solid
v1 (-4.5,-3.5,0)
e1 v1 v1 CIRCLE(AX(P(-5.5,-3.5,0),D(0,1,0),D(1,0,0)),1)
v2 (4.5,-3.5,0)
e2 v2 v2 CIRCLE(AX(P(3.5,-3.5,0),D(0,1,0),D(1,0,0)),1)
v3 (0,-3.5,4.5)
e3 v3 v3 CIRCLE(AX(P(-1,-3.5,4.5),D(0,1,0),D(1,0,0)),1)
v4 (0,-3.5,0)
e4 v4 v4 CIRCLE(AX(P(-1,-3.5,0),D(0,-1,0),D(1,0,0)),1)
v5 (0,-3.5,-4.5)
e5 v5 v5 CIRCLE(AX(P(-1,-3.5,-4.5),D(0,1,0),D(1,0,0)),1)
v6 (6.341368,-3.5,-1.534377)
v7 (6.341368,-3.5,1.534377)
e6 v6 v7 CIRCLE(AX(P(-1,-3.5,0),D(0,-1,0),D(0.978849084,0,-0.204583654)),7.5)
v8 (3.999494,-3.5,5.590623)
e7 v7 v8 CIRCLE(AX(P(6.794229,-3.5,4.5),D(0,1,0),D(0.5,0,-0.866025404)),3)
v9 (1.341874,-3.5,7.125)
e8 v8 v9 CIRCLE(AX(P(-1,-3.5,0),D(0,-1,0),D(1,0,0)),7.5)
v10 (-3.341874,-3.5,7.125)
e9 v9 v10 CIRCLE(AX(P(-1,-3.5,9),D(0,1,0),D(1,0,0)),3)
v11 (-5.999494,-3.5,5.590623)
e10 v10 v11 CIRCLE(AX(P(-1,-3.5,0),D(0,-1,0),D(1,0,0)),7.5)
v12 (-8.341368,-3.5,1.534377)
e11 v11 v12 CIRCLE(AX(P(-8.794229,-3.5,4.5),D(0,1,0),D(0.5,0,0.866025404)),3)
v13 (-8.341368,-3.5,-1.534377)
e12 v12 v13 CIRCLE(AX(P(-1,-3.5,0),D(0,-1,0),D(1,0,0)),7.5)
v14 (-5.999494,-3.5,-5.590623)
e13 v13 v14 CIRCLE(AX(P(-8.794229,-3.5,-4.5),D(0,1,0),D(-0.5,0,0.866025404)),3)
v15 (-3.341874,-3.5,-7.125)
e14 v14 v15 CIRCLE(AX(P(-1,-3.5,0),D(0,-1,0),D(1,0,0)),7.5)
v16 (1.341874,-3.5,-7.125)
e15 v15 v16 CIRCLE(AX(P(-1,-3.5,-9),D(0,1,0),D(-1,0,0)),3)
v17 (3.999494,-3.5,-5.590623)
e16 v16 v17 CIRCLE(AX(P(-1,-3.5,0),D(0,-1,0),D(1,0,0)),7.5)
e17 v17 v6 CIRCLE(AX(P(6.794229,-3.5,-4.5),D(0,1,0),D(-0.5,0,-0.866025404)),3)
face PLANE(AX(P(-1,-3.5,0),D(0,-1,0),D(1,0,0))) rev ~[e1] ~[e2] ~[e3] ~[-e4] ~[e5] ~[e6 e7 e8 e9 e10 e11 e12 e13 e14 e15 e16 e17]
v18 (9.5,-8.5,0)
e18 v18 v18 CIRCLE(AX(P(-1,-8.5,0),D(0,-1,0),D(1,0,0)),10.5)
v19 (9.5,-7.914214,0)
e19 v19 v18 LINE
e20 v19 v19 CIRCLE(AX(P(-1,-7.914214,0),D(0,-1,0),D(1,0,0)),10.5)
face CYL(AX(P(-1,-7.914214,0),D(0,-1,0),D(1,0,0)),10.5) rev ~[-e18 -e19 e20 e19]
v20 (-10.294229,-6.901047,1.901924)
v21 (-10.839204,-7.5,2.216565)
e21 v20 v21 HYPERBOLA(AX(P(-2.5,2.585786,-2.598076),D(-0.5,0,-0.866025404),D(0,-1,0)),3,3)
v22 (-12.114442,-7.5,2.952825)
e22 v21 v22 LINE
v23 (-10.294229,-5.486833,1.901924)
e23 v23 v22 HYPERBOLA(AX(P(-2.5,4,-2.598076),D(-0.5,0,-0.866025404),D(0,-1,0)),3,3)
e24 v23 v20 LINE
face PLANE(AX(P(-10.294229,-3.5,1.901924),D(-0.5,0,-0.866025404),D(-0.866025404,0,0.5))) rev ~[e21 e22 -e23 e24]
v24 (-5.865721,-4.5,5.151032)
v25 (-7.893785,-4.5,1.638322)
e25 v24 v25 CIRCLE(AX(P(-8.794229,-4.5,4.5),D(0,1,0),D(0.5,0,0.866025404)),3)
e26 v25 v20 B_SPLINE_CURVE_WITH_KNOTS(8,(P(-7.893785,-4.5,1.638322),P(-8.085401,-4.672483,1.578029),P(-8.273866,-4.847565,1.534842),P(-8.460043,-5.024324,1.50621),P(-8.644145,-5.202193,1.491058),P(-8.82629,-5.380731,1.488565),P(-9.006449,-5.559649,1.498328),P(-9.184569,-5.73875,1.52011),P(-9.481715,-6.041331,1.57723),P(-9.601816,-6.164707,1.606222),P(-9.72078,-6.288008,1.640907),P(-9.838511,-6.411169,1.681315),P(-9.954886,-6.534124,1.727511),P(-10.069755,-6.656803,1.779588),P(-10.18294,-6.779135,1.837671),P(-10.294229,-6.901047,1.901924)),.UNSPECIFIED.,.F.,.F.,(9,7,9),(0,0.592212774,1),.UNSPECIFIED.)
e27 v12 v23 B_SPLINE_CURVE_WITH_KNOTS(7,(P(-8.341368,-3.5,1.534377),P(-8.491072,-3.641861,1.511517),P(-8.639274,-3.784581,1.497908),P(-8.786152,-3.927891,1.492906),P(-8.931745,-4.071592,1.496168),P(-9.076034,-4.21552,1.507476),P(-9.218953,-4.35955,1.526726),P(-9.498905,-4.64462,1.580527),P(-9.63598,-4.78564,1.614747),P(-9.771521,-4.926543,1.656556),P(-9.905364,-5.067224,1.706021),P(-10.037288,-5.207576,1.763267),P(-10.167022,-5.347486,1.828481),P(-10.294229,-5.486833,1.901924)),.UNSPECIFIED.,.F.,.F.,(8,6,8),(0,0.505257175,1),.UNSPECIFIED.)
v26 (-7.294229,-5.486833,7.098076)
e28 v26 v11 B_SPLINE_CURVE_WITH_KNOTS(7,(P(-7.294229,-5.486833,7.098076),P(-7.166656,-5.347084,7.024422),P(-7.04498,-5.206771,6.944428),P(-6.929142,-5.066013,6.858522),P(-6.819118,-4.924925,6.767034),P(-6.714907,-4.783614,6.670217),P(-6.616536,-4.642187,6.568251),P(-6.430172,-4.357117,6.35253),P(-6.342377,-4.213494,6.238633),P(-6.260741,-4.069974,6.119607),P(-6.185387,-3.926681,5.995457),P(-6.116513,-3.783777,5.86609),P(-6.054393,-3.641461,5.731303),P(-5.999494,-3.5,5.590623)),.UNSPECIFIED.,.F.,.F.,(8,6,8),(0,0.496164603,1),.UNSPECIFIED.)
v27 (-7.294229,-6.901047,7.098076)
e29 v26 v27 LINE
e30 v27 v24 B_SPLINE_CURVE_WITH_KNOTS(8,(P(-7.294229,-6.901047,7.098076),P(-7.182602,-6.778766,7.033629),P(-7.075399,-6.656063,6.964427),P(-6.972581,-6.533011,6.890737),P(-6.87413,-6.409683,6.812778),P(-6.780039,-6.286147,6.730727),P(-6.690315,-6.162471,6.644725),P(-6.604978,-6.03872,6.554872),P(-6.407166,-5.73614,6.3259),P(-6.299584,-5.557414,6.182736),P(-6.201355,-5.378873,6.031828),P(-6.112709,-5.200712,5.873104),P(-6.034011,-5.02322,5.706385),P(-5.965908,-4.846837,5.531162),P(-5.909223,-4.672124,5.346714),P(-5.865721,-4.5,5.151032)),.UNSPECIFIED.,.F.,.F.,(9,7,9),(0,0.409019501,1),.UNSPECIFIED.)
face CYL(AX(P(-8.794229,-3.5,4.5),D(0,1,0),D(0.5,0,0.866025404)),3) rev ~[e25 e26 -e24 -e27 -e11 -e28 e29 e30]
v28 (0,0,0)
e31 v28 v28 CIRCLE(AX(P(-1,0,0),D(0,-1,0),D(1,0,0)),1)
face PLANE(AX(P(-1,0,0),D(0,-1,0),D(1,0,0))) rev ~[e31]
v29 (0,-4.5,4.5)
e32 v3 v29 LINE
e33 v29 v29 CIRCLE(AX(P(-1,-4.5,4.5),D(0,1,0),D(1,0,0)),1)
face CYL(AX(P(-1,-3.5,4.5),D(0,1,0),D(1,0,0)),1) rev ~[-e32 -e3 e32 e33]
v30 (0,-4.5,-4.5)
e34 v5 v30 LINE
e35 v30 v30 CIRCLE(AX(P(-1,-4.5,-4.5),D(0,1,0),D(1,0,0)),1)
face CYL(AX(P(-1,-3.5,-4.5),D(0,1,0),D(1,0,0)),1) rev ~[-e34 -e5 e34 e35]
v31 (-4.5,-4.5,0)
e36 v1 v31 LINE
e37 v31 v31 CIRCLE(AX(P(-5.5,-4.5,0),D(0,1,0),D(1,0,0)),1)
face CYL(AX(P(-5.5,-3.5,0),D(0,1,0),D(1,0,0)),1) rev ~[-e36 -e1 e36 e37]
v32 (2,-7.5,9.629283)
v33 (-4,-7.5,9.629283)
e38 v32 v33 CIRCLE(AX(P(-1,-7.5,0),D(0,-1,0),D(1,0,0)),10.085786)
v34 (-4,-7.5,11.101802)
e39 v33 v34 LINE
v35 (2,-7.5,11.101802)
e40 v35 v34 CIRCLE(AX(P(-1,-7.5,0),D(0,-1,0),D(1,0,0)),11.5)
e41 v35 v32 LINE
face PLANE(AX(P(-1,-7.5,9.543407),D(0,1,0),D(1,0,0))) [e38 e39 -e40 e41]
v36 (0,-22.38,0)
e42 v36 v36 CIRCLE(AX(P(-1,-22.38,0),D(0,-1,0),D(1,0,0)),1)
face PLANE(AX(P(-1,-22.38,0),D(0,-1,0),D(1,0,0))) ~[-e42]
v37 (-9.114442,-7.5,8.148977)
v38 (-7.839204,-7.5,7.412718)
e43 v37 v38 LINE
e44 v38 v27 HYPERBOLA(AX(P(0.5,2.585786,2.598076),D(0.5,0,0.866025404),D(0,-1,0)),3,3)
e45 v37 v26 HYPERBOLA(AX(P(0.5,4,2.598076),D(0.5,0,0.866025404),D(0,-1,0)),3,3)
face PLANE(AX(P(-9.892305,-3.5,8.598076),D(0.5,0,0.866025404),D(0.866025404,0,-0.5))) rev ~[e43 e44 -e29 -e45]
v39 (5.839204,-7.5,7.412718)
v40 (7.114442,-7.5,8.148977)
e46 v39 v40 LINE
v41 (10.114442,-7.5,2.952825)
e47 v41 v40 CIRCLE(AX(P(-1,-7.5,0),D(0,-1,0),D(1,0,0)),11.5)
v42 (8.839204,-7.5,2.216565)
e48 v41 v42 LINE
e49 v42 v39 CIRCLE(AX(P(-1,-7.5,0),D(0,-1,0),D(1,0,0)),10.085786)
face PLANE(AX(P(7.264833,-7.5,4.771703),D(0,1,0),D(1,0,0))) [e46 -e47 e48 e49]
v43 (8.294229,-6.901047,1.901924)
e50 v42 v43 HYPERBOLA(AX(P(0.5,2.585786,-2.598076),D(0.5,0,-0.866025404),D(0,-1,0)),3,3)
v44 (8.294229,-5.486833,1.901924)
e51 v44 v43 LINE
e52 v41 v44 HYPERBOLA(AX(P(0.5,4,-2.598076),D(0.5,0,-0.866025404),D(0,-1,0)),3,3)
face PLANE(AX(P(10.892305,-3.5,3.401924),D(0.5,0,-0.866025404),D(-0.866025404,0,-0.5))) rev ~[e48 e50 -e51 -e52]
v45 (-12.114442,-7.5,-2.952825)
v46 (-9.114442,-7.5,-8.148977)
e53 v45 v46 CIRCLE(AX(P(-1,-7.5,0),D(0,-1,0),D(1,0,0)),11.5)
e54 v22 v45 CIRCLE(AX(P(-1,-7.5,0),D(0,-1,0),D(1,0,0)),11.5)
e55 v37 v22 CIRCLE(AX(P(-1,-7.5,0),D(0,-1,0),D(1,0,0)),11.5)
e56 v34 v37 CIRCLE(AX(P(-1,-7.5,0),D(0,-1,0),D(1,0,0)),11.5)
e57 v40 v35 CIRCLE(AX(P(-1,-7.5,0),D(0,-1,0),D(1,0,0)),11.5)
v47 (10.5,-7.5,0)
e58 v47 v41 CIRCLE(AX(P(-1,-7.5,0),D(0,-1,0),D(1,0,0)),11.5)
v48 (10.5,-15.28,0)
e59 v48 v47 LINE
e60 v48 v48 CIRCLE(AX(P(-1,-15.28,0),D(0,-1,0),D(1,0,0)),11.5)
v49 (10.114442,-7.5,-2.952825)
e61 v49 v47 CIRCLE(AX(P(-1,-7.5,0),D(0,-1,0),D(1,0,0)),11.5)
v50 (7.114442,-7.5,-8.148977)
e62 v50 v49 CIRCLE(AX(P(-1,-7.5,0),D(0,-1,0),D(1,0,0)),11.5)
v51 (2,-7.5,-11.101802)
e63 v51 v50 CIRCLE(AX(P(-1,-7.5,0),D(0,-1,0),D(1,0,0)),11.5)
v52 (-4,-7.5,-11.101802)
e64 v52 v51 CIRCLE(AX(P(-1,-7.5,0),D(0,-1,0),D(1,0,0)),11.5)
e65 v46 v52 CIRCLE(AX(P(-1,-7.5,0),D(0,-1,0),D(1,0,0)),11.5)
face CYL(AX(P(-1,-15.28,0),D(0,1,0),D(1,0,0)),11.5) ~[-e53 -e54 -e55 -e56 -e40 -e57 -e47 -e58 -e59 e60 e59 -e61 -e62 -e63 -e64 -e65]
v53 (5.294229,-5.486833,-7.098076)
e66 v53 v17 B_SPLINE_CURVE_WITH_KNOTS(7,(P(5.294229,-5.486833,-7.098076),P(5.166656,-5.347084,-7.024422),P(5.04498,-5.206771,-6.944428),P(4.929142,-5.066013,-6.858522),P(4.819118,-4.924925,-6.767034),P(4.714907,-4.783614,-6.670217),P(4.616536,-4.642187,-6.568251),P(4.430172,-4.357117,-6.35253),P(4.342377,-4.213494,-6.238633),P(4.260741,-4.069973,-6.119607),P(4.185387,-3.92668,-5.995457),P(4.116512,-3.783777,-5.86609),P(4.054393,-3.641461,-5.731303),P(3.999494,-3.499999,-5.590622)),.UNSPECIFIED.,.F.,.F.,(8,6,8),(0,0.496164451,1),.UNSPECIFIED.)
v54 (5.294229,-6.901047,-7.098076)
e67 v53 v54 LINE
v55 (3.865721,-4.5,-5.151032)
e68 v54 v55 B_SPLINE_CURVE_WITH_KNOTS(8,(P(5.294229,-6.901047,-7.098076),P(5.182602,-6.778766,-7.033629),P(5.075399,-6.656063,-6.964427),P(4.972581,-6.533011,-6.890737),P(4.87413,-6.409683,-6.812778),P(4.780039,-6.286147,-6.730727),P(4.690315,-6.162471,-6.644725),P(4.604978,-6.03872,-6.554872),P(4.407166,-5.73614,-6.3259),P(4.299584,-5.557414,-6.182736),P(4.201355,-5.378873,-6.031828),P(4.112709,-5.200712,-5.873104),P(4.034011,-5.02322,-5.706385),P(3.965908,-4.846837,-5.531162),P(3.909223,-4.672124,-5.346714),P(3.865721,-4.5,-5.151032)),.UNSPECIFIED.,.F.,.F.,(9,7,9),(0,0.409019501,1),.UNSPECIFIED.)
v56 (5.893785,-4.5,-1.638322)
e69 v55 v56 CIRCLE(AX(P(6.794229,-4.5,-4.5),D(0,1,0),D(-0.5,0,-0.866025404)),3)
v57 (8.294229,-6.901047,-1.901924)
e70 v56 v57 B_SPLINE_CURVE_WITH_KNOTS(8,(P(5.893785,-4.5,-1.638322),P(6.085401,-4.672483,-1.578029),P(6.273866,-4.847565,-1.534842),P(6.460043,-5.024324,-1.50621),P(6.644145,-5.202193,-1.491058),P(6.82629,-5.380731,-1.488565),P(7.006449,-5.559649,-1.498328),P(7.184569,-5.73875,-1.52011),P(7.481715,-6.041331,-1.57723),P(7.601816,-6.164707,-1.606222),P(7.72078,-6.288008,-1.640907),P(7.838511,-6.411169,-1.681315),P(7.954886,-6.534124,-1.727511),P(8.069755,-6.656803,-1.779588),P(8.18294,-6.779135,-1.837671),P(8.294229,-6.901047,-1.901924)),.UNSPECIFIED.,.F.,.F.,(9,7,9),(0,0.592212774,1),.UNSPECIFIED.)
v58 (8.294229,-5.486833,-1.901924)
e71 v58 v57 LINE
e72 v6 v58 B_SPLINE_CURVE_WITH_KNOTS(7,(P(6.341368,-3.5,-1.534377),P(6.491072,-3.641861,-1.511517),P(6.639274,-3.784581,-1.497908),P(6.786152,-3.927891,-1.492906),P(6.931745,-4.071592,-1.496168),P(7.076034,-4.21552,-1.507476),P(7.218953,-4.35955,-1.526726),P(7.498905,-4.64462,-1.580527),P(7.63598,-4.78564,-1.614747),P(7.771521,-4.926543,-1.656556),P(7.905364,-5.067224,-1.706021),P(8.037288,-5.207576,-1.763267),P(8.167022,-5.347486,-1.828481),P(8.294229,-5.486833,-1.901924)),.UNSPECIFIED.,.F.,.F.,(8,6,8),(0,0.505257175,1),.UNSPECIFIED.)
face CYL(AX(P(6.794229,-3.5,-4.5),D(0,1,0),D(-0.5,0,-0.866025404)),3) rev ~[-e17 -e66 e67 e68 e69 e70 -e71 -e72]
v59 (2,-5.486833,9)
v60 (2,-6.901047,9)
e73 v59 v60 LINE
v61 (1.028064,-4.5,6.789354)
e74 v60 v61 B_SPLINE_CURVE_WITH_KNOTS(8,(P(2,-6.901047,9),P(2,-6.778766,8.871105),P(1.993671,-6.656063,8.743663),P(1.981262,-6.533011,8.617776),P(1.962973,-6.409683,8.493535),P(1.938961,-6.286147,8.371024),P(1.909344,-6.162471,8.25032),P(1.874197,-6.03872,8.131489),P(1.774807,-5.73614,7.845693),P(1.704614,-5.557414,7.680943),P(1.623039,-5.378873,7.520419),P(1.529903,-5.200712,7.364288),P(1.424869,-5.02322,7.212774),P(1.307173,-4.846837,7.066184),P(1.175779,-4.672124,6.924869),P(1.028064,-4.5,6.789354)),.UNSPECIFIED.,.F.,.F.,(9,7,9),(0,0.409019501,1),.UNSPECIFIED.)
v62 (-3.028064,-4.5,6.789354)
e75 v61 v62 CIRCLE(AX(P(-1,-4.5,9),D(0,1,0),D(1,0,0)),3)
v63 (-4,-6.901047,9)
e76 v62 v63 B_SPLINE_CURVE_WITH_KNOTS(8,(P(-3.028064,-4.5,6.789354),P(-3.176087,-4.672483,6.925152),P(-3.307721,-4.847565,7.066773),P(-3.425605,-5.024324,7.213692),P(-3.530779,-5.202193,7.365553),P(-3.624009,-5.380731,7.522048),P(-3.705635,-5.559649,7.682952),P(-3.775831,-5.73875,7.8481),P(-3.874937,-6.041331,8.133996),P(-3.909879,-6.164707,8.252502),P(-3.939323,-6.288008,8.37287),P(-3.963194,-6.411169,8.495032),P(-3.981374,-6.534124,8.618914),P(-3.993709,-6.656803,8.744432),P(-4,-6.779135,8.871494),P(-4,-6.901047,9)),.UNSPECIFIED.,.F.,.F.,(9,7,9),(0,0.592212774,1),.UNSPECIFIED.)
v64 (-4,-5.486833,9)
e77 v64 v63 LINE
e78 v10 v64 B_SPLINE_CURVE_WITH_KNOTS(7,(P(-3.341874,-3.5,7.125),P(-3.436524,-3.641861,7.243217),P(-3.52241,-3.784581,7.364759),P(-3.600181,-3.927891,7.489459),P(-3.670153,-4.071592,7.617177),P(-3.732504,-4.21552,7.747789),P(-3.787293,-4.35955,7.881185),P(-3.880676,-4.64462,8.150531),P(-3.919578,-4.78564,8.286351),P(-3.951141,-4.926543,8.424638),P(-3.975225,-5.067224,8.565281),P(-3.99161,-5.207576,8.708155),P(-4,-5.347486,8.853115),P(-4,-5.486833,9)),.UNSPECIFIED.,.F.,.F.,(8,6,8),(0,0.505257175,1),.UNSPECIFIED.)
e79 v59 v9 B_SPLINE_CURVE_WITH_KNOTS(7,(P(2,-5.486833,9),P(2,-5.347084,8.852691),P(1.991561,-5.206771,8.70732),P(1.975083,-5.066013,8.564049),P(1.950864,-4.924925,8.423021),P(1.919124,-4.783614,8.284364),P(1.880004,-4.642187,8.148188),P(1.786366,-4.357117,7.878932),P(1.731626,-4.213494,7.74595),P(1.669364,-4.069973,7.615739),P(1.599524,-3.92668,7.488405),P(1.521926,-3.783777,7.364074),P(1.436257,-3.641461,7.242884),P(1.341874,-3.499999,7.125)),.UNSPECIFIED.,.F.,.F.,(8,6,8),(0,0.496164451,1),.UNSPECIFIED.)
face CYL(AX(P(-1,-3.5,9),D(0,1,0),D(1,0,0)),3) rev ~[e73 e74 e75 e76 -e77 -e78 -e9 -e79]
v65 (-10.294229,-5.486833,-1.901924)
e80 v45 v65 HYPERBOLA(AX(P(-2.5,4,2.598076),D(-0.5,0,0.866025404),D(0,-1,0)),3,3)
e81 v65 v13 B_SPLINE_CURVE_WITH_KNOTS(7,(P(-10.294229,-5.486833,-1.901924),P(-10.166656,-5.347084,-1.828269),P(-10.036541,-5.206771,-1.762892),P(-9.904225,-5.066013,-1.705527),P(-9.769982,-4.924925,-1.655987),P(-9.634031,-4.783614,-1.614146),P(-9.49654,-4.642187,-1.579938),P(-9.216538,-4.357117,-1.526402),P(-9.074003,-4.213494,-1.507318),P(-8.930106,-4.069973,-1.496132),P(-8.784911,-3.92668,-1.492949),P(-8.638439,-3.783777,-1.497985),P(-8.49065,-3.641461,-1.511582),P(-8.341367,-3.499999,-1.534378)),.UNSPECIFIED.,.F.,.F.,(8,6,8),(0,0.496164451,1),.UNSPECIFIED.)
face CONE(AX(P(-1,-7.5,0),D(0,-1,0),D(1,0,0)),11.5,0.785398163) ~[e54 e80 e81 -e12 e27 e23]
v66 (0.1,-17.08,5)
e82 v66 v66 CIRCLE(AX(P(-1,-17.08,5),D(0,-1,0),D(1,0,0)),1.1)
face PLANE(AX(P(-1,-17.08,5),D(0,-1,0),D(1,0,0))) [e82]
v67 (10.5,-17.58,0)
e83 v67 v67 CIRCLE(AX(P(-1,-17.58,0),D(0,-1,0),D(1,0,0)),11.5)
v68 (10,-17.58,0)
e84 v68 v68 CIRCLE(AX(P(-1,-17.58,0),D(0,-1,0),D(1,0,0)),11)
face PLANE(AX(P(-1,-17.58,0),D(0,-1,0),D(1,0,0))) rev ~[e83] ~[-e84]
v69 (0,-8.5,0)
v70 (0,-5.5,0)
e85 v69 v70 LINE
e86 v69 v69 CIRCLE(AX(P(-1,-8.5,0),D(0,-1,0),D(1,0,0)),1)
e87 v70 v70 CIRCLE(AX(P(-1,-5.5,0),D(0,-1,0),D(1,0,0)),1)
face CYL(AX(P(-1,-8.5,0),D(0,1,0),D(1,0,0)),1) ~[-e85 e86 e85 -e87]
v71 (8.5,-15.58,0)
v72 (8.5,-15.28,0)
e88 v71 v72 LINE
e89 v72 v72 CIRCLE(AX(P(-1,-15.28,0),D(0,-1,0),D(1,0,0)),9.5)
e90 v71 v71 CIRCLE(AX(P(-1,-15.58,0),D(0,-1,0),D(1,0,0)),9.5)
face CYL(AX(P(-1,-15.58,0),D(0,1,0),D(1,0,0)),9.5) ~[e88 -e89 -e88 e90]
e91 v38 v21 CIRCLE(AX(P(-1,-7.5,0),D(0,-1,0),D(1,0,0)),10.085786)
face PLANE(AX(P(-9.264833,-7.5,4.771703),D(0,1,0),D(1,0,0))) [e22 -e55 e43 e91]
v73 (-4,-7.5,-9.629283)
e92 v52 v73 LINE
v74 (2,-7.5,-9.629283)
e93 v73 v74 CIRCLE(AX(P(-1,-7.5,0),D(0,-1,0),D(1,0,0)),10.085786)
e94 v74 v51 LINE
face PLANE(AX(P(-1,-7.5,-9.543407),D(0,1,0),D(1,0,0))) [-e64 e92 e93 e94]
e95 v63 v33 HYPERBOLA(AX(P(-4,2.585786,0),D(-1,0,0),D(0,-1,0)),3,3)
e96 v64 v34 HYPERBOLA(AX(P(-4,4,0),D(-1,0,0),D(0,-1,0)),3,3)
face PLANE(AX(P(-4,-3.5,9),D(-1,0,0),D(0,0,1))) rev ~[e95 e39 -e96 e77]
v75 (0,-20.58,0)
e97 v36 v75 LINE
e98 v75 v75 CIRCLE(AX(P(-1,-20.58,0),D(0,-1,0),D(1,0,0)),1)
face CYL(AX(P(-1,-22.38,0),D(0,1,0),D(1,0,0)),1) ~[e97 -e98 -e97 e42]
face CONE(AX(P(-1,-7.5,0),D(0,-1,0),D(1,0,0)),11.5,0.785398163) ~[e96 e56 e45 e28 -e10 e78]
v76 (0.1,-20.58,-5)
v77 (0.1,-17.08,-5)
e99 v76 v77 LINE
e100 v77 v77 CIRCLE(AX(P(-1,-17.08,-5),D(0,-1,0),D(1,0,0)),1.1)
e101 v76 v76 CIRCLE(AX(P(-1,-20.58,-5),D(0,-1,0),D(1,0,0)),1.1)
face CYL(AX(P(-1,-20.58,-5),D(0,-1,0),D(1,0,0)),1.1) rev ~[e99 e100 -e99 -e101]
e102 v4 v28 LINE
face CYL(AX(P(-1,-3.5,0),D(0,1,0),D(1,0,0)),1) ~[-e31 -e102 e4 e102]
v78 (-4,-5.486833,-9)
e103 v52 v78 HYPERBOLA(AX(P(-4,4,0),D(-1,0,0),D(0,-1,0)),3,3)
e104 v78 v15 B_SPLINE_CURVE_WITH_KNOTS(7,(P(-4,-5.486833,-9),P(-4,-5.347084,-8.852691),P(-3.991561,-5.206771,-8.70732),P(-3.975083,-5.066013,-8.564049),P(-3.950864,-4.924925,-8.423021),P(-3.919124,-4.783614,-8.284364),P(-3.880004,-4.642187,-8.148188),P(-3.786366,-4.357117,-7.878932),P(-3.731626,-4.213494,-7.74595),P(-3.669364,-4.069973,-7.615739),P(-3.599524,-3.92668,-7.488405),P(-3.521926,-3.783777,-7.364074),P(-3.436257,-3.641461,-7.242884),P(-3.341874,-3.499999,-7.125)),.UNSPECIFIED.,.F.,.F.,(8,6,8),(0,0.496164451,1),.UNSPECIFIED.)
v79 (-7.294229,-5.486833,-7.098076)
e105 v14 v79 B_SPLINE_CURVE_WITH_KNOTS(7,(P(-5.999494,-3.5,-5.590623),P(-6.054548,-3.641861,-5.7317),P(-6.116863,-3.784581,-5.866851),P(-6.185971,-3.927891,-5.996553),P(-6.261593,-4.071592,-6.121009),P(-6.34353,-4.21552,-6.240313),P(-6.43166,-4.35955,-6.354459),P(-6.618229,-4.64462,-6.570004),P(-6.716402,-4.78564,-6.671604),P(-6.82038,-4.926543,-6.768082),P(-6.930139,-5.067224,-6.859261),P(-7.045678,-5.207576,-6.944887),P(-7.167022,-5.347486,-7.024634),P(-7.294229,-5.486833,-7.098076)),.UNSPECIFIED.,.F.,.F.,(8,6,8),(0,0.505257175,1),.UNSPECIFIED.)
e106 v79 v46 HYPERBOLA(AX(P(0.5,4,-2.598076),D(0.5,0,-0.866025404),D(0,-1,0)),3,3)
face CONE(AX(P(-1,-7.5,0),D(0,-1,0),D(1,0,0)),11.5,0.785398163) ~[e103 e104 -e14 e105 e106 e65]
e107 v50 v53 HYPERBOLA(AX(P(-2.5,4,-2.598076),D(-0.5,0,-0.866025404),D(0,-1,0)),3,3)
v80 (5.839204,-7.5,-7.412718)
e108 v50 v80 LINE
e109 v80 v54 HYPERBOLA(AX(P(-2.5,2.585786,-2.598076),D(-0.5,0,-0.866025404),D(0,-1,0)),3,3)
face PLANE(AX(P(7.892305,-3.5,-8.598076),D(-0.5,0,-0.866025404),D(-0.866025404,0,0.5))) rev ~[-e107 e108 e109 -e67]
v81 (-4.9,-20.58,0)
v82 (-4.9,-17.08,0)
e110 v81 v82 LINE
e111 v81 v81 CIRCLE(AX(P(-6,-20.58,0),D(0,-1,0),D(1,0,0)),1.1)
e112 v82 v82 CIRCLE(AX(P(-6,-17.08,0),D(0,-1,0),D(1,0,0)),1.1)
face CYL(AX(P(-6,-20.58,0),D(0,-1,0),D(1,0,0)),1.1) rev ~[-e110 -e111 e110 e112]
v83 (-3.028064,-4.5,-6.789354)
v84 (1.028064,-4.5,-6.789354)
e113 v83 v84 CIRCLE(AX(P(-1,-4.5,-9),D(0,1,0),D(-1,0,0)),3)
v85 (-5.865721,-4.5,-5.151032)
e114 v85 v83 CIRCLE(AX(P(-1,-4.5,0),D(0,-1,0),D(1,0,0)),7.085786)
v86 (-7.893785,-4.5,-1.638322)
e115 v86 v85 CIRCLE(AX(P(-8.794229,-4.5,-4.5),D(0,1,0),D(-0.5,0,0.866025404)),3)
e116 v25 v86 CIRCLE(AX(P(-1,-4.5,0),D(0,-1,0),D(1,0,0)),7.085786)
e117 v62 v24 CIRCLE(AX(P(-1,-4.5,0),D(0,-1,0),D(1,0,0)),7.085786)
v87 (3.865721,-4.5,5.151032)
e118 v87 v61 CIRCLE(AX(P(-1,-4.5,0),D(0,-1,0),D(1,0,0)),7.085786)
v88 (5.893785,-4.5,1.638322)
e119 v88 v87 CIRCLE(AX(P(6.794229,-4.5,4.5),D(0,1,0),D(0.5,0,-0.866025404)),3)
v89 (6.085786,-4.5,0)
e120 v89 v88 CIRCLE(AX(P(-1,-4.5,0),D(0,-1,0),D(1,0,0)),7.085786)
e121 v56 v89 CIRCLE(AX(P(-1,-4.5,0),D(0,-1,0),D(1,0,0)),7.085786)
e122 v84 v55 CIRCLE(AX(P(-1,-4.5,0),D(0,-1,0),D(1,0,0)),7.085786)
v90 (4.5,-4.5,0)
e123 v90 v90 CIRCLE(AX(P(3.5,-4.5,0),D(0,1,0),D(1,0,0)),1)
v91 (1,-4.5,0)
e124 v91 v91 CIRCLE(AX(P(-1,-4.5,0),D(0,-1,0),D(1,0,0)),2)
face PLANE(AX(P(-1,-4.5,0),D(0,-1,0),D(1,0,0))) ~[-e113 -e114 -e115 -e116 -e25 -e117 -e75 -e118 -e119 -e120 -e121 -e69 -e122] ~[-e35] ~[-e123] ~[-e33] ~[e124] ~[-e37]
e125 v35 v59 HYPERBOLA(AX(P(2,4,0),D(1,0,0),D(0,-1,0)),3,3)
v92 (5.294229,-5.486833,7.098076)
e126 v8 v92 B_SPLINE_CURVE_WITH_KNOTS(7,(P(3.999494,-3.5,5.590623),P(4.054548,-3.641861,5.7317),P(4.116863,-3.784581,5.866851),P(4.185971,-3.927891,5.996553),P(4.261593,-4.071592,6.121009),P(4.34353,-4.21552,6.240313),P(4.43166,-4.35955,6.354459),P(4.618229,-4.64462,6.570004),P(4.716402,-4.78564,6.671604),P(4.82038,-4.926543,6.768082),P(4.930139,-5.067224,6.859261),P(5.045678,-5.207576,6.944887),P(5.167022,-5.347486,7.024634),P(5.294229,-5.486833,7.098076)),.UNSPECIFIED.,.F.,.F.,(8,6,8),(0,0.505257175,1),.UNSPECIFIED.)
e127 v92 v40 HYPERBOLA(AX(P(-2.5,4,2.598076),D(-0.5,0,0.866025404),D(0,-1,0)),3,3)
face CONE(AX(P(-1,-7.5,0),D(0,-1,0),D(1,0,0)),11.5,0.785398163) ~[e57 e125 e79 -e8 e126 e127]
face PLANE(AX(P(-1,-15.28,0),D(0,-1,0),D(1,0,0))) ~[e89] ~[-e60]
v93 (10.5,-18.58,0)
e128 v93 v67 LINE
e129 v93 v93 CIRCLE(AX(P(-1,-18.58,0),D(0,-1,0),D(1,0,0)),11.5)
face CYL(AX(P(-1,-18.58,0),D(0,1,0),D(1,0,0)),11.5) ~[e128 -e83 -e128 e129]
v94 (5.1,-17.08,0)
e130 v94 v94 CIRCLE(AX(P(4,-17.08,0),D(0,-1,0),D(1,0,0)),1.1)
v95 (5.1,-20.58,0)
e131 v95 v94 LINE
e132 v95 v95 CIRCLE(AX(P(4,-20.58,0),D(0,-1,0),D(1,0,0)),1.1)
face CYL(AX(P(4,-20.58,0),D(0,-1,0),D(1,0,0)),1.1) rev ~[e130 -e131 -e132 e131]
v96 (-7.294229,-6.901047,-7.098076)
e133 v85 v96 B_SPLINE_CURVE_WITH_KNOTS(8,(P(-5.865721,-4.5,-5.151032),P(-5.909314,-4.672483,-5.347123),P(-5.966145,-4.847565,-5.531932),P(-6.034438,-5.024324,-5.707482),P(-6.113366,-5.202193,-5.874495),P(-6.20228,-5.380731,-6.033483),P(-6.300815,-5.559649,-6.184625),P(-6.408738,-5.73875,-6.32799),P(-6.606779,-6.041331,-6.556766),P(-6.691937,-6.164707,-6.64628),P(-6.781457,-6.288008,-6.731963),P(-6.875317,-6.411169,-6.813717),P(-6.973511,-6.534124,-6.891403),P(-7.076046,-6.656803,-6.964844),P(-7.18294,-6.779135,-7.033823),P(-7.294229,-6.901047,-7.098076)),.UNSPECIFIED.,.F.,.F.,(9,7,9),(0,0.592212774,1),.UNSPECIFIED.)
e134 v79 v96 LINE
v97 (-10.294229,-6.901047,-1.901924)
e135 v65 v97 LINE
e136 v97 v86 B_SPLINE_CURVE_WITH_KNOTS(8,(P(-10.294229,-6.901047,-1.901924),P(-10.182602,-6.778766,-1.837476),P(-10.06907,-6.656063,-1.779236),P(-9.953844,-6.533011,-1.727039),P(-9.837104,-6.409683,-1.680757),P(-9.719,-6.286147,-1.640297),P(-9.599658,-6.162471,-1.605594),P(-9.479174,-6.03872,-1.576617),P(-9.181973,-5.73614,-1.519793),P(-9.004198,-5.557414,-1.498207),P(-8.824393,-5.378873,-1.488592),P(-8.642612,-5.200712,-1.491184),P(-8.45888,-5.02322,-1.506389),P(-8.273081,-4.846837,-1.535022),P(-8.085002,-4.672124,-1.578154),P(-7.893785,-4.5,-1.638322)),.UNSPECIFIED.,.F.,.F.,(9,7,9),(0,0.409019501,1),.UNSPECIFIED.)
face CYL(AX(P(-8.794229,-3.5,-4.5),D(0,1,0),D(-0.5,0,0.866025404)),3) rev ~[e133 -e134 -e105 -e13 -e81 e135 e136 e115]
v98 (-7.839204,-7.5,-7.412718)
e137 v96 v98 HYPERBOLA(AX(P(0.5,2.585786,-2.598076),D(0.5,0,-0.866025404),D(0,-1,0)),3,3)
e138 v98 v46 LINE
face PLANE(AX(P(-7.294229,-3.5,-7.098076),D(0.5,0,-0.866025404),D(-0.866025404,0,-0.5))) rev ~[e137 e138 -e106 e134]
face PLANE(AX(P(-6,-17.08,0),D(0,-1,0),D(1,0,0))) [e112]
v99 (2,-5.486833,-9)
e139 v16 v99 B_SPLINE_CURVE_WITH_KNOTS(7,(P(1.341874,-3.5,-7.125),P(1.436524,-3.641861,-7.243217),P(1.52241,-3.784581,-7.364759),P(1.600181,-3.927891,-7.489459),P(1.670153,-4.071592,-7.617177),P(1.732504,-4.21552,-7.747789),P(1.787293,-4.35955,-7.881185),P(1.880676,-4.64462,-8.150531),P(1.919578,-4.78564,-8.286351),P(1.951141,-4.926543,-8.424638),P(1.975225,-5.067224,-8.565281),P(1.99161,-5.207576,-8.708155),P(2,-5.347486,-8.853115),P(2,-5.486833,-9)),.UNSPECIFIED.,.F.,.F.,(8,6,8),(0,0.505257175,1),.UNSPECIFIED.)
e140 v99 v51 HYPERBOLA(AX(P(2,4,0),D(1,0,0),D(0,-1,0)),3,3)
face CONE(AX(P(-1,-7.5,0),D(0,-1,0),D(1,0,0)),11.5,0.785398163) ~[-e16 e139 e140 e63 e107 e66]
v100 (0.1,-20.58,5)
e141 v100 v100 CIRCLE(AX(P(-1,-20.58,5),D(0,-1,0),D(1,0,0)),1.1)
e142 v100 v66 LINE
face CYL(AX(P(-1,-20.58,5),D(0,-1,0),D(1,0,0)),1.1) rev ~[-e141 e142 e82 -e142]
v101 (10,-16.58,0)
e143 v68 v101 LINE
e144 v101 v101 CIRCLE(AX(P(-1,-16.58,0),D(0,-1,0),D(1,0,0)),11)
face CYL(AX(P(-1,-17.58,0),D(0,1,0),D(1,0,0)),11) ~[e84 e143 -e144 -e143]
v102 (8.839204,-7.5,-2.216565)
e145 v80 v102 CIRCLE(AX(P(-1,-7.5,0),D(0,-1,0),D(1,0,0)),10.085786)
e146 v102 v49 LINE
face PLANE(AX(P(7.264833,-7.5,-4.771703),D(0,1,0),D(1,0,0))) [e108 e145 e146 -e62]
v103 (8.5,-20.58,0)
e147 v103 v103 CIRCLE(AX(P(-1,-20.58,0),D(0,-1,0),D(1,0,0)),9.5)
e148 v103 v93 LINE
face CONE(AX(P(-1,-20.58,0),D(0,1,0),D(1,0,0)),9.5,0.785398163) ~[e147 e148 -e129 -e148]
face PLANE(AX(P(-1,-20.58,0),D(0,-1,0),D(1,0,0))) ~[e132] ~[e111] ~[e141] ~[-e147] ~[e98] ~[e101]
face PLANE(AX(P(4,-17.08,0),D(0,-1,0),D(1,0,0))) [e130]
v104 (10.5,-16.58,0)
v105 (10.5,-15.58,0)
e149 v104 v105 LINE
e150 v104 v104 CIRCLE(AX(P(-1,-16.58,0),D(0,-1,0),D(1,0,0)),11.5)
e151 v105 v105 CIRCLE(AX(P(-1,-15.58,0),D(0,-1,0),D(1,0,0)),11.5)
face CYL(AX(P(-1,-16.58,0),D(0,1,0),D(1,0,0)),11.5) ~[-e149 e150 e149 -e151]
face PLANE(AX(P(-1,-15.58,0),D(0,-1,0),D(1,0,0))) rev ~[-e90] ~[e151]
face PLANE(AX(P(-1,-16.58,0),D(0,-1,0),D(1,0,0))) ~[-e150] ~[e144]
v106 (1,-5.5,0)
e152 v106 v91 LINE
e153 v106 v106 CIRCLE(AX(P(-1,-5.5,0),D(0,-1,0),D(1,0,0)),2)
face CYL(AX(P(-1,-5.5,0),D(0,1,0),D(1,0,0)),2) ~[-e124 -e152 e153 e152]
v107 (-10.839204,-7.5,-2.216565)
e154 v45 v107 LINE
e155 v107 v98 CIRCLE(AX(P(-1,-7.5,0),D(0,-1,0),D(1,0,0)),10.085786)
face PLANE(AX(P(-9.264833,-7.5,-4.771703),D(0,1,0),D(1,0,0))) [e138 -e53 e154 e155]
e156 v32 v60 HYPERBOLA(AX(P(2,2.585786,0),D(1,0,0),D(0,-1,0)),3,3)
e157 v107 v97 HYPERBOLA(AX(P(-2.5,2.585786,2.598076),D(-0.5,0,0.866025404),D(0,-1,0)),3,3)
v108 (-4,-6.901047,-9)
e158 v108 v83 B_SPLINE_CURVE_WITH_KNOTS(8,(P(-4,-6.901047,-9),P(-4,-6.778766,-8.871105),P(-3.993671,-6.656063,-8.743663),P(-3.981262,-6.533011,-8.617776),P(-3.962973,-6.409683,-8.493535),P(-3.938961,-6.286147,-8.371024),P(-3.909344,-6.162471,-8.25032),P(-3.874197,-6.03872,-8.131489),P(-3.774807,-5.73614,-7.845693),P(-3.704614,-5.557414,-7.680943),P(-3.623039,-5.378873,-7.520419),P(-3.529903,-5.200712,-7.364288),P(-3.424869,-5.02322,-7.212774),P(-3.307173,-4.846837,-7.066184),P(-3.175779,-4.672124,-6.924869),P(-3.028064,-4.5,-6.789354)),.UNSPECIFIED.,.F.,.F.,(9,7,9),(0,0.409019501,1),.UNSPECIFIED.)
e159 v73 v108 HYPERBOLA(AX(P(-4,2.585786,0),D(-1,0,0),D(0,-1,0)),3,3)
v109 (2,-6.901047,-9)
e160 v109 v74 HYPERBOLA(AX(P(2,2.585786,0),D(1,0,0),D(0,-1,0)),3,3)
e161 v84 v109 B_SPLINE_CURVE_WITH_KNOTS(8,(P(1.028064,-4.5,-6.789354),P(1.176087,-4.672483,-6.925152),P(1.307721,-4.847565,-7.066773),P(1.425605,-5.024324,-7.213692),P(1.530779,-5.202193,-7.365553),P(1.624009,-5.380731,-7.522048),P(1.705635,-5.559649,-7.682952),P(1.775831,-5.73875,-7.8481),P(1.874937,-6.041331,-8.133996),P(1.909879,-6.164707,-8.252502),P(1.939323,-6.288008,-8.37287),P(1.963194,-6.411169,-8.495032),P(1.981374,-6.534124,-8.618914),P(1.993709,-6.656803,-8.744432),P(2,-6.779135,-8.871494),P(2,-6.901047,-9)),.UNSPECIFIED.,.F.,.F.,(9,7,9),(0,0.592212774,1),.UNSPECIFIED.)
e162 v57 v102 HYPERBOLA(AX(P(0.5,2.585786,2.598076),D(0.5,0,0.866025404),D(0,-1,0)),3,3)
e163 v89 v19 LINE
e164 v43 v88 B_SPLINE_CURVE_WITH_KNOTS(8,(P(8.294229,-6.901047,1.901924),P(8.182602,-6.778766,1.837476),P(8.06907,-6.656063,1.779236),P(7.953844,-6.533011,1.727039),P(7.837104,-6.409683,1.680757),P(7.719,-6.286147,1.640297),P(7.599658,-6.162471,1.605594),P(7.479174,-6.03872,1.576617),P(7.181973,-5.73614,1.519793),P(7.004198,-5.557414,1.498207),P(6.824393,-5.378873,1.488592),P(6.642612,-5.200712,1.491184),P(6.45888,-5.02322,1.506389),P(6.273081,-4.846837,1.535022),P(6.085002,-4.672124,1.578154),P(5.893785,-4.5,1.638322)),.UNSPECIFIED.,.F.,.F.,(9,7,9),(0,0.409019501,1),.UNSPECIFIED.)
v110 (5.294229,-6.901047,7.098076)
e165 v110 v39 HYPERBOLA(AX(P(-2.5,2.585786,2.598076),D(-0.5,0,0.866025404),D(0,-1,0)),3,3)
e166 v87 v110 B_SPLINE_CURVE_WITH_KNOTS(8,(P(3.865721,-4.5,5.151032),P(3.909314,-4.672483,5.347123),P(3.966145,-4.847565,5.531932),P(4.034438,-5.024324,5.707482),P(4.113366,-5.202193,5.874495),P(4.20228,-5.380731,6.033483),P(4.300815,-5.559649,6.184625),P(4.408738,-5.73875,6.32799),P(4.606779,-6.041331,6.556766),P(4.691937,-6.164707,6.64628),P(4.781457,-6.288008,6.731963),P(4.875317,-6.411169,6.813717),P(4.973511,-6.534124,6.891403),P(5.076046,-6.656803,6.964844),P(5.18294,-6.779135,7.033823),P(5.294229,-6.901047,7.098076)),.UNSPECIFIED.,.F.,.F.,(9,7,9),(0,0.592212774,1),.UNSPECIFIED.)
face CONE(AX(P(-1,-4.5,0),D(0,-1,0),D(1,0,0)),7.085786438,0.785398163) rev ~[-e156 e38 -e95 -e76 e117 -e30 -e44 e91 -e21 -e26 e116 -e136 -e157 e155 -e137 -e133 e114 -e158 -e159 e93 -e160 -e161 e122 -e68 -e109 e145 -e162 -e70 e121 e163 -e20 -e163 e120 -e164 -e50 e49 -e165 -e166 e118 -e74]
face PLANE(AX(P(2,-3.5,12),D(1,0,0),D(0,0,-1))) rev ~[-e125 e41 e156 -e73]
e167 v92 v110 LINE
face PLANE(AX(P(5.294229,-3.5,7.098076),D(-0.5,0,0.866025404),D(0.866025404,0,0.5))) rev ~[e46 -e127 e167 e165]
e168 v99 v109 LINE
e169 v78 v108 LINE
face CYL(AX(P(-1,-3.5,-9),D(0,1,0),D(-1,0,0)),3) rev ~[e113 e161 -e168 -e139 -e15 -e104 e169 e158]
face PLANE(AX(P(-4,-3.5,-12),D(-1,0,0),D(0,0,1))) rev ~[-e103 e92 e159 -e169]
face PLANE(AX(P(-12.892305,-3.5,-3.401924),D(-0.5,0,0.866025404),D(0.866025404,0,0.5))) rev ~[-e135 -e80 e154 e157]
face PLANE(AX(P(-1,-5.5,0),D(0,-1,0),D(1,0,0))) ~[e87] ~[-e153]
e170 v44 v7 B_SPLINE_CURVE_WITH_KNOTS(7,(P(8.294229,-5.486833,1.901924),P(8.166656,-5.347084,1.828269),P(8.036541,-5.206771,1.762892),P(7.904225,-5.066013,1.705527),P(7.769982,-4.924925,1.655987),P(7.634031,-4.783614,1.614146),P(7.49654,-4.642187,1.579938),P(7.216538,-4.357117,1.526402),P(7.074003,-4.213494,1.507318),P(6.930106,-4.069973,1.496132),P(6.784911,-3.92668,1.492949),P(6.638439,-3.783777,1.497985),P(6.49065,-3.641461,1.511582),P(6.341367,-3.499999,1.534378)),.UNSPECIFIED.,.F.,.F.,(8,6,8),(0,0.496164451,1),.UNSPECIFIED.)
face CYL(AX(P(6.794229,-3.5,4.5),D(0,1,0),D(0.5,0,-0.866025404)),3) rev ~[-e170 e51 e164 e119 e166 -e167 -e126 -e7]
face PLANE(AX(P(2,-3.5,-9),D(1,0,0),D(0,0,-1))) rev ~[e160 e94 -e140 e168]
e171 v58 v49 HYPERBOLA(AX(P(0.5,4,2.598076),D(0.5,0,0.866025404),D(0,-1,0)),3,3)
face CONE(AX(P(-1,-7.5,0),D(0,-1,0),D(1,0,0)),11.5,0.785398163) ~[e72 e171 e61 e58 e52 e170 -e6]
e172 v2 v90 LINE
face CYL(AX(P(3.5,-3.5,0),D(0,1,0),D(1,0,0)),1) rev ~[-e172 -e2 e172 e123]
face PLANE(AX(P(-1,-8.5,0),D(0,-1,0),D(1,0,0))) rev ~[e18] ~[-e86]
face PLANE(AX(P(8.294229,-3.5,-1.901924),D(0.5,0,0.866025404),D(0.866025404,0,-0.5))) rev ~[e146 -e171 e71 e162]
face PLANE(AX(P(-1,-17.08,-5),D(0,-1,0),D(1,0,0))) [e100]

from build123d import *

# Parameters (mm, degrees)
SKETCH4_R          = 1.1
CUT_EXTRUDE1_DEPTH = 3.5
SKETCH5_R          = 1
CUT_EXTRUDE2_DEPTH = 4


with BuildPart() as part:
    # Sketch2 → Revolve1 (revolve)
    with BuildSketch(Plane.XY):
        Polygon((0, 0), (-1, 0), (-1, -22.38), (0, -22.38), (0, -20.58), (8.5, -20.58), (10.5, -18.58), (10.5, -17.58), (10, -17.58), (10, -16.58), (10.5, -16.58), (10.5, -15.58), (8.5, -15.58), (8.5, -15.28), (10.5, -15.28), (10.5, -7.5), (6.5, -3.5), (0, -3.5), align=None)
        Polygon((1, -4.5), (6.085786438, -4.5), (9.5, -7.914213562), (9.5, -8.5), (0, -8.5), (0, -5.5), (1, -5.5), align=None, mode=Mode.SUBTRACT)
    revolve(axis=Axis((-1, 0, 0), (0, -1, 0)))

    # Sketch4 → Cut-Extrude1 (cut)
    with BuildSketch(Plane.XZ.offset(20.58)):
        with Locations((-1, 5)):
            Circle(SKETCH4_R)
        with Locations((4, 0)):
            Circle(SKETCH4_R)
        with Locations((-1, -5)):
            Circle(SKETCH4_R)
        with Locations((-6, 0)):
            Circle(SKETCH4_R)
    extrude(amount=-CUT_EXTRUDE1_DEPTH, mode=Mode.SUBTRACT)

    # Sketch5 → Cut-Extrude2 (cut)
    with BuildSketch(Plane(origin=(0, -3.5, 0), x_dir=(1, 0, 0), z_dir=(0, 1, 0))):
        with Locations((-1, 4.5)):
            Circle(SKETCH5_R)
        with Locations((3.5, 0)):
            Circle(SKETCH5_R)
        with Locations((-1, -4.5)):
            Circle(SKETCH5_R)
        with Locations((-5.5, 0)):
            Circle(SKETCH5_R)
        with BuildLine():
            Line((2, 9), (2, 12))
            Line((2, 12), (-4, 12))
            Line((-4, 12), (-4, 9))
            ThreePointArc((-4, 9), (-1, 6), (2, 9))
        make_face()
        with BuildLine():
            Line((8.294228634, 1.901923789), (10.892304845, 3.401923789))
            Line((10.892304845, 3.401923789), (7.892304845, 8.598076211))
            Line((7.892304845, 8.598076211), (5.294228634, 7.098076211))
            ThreePointArc((5.294228634, 7.098076211), (4.196152423, 3), (8.294228634, 1.901923789))
        make_face()
        with BuildLine():
            Line((5.294228634, -7.098076211), (7.892304845, -8.598076211))
            Line((7.892304845, -8.598076211), (10.892304845, -3.401923789))
            Line((10.892304845, -3.401923789), (8.294228634, -1.901923789))
            ThreePointArc((8.294228634, -1.901923789), (4.196152423, -3), (5.294228634, -7.098076211))
        make_face()
        with BuildLine():
            Line((-4, -9), (-4, -12))
            Line((-4, -12), (2, -12))
            Line((2, -12), (2, -9))
            ThreePointArc((2, -9), (-1, -6), (-4, -9))
        make_face()
        with BuildLine():
            Line((-10.294228634, -1.901923789), (-12.892304845, -3.401923789))
            Line((-12.892304845, -3.401923789), (-9.892304845, -8.598076211))
            Line((-9.892304845, -8.598076211), (-7.294228634, -7.098076211))
            ThreePointArc((-7.294228634, -7.098076211), (-6.196152423, -3), (-10.294228634, -1.901923789))
        make_face()
        with BuildLine():
            Line((-7.294228634, 7.098076211), (-9.892304845, 8.598076211))
            Line((-9.892304845, 8.598076211), (-12.892304845, 3.401923789))
            Line((-12.892304845, 3.401923789), (-10.294228634, 1.901923789))
            ThreePointArc((-10.294228634, 1.901923789), (-6.196152423, 3), (-7.294228634, 7.098076211))
        make_face()
    extrude(amount=-CUT_EXTRUDE2_DEPTH, mode=Mode.SUBTRACT)


solid = part.part
